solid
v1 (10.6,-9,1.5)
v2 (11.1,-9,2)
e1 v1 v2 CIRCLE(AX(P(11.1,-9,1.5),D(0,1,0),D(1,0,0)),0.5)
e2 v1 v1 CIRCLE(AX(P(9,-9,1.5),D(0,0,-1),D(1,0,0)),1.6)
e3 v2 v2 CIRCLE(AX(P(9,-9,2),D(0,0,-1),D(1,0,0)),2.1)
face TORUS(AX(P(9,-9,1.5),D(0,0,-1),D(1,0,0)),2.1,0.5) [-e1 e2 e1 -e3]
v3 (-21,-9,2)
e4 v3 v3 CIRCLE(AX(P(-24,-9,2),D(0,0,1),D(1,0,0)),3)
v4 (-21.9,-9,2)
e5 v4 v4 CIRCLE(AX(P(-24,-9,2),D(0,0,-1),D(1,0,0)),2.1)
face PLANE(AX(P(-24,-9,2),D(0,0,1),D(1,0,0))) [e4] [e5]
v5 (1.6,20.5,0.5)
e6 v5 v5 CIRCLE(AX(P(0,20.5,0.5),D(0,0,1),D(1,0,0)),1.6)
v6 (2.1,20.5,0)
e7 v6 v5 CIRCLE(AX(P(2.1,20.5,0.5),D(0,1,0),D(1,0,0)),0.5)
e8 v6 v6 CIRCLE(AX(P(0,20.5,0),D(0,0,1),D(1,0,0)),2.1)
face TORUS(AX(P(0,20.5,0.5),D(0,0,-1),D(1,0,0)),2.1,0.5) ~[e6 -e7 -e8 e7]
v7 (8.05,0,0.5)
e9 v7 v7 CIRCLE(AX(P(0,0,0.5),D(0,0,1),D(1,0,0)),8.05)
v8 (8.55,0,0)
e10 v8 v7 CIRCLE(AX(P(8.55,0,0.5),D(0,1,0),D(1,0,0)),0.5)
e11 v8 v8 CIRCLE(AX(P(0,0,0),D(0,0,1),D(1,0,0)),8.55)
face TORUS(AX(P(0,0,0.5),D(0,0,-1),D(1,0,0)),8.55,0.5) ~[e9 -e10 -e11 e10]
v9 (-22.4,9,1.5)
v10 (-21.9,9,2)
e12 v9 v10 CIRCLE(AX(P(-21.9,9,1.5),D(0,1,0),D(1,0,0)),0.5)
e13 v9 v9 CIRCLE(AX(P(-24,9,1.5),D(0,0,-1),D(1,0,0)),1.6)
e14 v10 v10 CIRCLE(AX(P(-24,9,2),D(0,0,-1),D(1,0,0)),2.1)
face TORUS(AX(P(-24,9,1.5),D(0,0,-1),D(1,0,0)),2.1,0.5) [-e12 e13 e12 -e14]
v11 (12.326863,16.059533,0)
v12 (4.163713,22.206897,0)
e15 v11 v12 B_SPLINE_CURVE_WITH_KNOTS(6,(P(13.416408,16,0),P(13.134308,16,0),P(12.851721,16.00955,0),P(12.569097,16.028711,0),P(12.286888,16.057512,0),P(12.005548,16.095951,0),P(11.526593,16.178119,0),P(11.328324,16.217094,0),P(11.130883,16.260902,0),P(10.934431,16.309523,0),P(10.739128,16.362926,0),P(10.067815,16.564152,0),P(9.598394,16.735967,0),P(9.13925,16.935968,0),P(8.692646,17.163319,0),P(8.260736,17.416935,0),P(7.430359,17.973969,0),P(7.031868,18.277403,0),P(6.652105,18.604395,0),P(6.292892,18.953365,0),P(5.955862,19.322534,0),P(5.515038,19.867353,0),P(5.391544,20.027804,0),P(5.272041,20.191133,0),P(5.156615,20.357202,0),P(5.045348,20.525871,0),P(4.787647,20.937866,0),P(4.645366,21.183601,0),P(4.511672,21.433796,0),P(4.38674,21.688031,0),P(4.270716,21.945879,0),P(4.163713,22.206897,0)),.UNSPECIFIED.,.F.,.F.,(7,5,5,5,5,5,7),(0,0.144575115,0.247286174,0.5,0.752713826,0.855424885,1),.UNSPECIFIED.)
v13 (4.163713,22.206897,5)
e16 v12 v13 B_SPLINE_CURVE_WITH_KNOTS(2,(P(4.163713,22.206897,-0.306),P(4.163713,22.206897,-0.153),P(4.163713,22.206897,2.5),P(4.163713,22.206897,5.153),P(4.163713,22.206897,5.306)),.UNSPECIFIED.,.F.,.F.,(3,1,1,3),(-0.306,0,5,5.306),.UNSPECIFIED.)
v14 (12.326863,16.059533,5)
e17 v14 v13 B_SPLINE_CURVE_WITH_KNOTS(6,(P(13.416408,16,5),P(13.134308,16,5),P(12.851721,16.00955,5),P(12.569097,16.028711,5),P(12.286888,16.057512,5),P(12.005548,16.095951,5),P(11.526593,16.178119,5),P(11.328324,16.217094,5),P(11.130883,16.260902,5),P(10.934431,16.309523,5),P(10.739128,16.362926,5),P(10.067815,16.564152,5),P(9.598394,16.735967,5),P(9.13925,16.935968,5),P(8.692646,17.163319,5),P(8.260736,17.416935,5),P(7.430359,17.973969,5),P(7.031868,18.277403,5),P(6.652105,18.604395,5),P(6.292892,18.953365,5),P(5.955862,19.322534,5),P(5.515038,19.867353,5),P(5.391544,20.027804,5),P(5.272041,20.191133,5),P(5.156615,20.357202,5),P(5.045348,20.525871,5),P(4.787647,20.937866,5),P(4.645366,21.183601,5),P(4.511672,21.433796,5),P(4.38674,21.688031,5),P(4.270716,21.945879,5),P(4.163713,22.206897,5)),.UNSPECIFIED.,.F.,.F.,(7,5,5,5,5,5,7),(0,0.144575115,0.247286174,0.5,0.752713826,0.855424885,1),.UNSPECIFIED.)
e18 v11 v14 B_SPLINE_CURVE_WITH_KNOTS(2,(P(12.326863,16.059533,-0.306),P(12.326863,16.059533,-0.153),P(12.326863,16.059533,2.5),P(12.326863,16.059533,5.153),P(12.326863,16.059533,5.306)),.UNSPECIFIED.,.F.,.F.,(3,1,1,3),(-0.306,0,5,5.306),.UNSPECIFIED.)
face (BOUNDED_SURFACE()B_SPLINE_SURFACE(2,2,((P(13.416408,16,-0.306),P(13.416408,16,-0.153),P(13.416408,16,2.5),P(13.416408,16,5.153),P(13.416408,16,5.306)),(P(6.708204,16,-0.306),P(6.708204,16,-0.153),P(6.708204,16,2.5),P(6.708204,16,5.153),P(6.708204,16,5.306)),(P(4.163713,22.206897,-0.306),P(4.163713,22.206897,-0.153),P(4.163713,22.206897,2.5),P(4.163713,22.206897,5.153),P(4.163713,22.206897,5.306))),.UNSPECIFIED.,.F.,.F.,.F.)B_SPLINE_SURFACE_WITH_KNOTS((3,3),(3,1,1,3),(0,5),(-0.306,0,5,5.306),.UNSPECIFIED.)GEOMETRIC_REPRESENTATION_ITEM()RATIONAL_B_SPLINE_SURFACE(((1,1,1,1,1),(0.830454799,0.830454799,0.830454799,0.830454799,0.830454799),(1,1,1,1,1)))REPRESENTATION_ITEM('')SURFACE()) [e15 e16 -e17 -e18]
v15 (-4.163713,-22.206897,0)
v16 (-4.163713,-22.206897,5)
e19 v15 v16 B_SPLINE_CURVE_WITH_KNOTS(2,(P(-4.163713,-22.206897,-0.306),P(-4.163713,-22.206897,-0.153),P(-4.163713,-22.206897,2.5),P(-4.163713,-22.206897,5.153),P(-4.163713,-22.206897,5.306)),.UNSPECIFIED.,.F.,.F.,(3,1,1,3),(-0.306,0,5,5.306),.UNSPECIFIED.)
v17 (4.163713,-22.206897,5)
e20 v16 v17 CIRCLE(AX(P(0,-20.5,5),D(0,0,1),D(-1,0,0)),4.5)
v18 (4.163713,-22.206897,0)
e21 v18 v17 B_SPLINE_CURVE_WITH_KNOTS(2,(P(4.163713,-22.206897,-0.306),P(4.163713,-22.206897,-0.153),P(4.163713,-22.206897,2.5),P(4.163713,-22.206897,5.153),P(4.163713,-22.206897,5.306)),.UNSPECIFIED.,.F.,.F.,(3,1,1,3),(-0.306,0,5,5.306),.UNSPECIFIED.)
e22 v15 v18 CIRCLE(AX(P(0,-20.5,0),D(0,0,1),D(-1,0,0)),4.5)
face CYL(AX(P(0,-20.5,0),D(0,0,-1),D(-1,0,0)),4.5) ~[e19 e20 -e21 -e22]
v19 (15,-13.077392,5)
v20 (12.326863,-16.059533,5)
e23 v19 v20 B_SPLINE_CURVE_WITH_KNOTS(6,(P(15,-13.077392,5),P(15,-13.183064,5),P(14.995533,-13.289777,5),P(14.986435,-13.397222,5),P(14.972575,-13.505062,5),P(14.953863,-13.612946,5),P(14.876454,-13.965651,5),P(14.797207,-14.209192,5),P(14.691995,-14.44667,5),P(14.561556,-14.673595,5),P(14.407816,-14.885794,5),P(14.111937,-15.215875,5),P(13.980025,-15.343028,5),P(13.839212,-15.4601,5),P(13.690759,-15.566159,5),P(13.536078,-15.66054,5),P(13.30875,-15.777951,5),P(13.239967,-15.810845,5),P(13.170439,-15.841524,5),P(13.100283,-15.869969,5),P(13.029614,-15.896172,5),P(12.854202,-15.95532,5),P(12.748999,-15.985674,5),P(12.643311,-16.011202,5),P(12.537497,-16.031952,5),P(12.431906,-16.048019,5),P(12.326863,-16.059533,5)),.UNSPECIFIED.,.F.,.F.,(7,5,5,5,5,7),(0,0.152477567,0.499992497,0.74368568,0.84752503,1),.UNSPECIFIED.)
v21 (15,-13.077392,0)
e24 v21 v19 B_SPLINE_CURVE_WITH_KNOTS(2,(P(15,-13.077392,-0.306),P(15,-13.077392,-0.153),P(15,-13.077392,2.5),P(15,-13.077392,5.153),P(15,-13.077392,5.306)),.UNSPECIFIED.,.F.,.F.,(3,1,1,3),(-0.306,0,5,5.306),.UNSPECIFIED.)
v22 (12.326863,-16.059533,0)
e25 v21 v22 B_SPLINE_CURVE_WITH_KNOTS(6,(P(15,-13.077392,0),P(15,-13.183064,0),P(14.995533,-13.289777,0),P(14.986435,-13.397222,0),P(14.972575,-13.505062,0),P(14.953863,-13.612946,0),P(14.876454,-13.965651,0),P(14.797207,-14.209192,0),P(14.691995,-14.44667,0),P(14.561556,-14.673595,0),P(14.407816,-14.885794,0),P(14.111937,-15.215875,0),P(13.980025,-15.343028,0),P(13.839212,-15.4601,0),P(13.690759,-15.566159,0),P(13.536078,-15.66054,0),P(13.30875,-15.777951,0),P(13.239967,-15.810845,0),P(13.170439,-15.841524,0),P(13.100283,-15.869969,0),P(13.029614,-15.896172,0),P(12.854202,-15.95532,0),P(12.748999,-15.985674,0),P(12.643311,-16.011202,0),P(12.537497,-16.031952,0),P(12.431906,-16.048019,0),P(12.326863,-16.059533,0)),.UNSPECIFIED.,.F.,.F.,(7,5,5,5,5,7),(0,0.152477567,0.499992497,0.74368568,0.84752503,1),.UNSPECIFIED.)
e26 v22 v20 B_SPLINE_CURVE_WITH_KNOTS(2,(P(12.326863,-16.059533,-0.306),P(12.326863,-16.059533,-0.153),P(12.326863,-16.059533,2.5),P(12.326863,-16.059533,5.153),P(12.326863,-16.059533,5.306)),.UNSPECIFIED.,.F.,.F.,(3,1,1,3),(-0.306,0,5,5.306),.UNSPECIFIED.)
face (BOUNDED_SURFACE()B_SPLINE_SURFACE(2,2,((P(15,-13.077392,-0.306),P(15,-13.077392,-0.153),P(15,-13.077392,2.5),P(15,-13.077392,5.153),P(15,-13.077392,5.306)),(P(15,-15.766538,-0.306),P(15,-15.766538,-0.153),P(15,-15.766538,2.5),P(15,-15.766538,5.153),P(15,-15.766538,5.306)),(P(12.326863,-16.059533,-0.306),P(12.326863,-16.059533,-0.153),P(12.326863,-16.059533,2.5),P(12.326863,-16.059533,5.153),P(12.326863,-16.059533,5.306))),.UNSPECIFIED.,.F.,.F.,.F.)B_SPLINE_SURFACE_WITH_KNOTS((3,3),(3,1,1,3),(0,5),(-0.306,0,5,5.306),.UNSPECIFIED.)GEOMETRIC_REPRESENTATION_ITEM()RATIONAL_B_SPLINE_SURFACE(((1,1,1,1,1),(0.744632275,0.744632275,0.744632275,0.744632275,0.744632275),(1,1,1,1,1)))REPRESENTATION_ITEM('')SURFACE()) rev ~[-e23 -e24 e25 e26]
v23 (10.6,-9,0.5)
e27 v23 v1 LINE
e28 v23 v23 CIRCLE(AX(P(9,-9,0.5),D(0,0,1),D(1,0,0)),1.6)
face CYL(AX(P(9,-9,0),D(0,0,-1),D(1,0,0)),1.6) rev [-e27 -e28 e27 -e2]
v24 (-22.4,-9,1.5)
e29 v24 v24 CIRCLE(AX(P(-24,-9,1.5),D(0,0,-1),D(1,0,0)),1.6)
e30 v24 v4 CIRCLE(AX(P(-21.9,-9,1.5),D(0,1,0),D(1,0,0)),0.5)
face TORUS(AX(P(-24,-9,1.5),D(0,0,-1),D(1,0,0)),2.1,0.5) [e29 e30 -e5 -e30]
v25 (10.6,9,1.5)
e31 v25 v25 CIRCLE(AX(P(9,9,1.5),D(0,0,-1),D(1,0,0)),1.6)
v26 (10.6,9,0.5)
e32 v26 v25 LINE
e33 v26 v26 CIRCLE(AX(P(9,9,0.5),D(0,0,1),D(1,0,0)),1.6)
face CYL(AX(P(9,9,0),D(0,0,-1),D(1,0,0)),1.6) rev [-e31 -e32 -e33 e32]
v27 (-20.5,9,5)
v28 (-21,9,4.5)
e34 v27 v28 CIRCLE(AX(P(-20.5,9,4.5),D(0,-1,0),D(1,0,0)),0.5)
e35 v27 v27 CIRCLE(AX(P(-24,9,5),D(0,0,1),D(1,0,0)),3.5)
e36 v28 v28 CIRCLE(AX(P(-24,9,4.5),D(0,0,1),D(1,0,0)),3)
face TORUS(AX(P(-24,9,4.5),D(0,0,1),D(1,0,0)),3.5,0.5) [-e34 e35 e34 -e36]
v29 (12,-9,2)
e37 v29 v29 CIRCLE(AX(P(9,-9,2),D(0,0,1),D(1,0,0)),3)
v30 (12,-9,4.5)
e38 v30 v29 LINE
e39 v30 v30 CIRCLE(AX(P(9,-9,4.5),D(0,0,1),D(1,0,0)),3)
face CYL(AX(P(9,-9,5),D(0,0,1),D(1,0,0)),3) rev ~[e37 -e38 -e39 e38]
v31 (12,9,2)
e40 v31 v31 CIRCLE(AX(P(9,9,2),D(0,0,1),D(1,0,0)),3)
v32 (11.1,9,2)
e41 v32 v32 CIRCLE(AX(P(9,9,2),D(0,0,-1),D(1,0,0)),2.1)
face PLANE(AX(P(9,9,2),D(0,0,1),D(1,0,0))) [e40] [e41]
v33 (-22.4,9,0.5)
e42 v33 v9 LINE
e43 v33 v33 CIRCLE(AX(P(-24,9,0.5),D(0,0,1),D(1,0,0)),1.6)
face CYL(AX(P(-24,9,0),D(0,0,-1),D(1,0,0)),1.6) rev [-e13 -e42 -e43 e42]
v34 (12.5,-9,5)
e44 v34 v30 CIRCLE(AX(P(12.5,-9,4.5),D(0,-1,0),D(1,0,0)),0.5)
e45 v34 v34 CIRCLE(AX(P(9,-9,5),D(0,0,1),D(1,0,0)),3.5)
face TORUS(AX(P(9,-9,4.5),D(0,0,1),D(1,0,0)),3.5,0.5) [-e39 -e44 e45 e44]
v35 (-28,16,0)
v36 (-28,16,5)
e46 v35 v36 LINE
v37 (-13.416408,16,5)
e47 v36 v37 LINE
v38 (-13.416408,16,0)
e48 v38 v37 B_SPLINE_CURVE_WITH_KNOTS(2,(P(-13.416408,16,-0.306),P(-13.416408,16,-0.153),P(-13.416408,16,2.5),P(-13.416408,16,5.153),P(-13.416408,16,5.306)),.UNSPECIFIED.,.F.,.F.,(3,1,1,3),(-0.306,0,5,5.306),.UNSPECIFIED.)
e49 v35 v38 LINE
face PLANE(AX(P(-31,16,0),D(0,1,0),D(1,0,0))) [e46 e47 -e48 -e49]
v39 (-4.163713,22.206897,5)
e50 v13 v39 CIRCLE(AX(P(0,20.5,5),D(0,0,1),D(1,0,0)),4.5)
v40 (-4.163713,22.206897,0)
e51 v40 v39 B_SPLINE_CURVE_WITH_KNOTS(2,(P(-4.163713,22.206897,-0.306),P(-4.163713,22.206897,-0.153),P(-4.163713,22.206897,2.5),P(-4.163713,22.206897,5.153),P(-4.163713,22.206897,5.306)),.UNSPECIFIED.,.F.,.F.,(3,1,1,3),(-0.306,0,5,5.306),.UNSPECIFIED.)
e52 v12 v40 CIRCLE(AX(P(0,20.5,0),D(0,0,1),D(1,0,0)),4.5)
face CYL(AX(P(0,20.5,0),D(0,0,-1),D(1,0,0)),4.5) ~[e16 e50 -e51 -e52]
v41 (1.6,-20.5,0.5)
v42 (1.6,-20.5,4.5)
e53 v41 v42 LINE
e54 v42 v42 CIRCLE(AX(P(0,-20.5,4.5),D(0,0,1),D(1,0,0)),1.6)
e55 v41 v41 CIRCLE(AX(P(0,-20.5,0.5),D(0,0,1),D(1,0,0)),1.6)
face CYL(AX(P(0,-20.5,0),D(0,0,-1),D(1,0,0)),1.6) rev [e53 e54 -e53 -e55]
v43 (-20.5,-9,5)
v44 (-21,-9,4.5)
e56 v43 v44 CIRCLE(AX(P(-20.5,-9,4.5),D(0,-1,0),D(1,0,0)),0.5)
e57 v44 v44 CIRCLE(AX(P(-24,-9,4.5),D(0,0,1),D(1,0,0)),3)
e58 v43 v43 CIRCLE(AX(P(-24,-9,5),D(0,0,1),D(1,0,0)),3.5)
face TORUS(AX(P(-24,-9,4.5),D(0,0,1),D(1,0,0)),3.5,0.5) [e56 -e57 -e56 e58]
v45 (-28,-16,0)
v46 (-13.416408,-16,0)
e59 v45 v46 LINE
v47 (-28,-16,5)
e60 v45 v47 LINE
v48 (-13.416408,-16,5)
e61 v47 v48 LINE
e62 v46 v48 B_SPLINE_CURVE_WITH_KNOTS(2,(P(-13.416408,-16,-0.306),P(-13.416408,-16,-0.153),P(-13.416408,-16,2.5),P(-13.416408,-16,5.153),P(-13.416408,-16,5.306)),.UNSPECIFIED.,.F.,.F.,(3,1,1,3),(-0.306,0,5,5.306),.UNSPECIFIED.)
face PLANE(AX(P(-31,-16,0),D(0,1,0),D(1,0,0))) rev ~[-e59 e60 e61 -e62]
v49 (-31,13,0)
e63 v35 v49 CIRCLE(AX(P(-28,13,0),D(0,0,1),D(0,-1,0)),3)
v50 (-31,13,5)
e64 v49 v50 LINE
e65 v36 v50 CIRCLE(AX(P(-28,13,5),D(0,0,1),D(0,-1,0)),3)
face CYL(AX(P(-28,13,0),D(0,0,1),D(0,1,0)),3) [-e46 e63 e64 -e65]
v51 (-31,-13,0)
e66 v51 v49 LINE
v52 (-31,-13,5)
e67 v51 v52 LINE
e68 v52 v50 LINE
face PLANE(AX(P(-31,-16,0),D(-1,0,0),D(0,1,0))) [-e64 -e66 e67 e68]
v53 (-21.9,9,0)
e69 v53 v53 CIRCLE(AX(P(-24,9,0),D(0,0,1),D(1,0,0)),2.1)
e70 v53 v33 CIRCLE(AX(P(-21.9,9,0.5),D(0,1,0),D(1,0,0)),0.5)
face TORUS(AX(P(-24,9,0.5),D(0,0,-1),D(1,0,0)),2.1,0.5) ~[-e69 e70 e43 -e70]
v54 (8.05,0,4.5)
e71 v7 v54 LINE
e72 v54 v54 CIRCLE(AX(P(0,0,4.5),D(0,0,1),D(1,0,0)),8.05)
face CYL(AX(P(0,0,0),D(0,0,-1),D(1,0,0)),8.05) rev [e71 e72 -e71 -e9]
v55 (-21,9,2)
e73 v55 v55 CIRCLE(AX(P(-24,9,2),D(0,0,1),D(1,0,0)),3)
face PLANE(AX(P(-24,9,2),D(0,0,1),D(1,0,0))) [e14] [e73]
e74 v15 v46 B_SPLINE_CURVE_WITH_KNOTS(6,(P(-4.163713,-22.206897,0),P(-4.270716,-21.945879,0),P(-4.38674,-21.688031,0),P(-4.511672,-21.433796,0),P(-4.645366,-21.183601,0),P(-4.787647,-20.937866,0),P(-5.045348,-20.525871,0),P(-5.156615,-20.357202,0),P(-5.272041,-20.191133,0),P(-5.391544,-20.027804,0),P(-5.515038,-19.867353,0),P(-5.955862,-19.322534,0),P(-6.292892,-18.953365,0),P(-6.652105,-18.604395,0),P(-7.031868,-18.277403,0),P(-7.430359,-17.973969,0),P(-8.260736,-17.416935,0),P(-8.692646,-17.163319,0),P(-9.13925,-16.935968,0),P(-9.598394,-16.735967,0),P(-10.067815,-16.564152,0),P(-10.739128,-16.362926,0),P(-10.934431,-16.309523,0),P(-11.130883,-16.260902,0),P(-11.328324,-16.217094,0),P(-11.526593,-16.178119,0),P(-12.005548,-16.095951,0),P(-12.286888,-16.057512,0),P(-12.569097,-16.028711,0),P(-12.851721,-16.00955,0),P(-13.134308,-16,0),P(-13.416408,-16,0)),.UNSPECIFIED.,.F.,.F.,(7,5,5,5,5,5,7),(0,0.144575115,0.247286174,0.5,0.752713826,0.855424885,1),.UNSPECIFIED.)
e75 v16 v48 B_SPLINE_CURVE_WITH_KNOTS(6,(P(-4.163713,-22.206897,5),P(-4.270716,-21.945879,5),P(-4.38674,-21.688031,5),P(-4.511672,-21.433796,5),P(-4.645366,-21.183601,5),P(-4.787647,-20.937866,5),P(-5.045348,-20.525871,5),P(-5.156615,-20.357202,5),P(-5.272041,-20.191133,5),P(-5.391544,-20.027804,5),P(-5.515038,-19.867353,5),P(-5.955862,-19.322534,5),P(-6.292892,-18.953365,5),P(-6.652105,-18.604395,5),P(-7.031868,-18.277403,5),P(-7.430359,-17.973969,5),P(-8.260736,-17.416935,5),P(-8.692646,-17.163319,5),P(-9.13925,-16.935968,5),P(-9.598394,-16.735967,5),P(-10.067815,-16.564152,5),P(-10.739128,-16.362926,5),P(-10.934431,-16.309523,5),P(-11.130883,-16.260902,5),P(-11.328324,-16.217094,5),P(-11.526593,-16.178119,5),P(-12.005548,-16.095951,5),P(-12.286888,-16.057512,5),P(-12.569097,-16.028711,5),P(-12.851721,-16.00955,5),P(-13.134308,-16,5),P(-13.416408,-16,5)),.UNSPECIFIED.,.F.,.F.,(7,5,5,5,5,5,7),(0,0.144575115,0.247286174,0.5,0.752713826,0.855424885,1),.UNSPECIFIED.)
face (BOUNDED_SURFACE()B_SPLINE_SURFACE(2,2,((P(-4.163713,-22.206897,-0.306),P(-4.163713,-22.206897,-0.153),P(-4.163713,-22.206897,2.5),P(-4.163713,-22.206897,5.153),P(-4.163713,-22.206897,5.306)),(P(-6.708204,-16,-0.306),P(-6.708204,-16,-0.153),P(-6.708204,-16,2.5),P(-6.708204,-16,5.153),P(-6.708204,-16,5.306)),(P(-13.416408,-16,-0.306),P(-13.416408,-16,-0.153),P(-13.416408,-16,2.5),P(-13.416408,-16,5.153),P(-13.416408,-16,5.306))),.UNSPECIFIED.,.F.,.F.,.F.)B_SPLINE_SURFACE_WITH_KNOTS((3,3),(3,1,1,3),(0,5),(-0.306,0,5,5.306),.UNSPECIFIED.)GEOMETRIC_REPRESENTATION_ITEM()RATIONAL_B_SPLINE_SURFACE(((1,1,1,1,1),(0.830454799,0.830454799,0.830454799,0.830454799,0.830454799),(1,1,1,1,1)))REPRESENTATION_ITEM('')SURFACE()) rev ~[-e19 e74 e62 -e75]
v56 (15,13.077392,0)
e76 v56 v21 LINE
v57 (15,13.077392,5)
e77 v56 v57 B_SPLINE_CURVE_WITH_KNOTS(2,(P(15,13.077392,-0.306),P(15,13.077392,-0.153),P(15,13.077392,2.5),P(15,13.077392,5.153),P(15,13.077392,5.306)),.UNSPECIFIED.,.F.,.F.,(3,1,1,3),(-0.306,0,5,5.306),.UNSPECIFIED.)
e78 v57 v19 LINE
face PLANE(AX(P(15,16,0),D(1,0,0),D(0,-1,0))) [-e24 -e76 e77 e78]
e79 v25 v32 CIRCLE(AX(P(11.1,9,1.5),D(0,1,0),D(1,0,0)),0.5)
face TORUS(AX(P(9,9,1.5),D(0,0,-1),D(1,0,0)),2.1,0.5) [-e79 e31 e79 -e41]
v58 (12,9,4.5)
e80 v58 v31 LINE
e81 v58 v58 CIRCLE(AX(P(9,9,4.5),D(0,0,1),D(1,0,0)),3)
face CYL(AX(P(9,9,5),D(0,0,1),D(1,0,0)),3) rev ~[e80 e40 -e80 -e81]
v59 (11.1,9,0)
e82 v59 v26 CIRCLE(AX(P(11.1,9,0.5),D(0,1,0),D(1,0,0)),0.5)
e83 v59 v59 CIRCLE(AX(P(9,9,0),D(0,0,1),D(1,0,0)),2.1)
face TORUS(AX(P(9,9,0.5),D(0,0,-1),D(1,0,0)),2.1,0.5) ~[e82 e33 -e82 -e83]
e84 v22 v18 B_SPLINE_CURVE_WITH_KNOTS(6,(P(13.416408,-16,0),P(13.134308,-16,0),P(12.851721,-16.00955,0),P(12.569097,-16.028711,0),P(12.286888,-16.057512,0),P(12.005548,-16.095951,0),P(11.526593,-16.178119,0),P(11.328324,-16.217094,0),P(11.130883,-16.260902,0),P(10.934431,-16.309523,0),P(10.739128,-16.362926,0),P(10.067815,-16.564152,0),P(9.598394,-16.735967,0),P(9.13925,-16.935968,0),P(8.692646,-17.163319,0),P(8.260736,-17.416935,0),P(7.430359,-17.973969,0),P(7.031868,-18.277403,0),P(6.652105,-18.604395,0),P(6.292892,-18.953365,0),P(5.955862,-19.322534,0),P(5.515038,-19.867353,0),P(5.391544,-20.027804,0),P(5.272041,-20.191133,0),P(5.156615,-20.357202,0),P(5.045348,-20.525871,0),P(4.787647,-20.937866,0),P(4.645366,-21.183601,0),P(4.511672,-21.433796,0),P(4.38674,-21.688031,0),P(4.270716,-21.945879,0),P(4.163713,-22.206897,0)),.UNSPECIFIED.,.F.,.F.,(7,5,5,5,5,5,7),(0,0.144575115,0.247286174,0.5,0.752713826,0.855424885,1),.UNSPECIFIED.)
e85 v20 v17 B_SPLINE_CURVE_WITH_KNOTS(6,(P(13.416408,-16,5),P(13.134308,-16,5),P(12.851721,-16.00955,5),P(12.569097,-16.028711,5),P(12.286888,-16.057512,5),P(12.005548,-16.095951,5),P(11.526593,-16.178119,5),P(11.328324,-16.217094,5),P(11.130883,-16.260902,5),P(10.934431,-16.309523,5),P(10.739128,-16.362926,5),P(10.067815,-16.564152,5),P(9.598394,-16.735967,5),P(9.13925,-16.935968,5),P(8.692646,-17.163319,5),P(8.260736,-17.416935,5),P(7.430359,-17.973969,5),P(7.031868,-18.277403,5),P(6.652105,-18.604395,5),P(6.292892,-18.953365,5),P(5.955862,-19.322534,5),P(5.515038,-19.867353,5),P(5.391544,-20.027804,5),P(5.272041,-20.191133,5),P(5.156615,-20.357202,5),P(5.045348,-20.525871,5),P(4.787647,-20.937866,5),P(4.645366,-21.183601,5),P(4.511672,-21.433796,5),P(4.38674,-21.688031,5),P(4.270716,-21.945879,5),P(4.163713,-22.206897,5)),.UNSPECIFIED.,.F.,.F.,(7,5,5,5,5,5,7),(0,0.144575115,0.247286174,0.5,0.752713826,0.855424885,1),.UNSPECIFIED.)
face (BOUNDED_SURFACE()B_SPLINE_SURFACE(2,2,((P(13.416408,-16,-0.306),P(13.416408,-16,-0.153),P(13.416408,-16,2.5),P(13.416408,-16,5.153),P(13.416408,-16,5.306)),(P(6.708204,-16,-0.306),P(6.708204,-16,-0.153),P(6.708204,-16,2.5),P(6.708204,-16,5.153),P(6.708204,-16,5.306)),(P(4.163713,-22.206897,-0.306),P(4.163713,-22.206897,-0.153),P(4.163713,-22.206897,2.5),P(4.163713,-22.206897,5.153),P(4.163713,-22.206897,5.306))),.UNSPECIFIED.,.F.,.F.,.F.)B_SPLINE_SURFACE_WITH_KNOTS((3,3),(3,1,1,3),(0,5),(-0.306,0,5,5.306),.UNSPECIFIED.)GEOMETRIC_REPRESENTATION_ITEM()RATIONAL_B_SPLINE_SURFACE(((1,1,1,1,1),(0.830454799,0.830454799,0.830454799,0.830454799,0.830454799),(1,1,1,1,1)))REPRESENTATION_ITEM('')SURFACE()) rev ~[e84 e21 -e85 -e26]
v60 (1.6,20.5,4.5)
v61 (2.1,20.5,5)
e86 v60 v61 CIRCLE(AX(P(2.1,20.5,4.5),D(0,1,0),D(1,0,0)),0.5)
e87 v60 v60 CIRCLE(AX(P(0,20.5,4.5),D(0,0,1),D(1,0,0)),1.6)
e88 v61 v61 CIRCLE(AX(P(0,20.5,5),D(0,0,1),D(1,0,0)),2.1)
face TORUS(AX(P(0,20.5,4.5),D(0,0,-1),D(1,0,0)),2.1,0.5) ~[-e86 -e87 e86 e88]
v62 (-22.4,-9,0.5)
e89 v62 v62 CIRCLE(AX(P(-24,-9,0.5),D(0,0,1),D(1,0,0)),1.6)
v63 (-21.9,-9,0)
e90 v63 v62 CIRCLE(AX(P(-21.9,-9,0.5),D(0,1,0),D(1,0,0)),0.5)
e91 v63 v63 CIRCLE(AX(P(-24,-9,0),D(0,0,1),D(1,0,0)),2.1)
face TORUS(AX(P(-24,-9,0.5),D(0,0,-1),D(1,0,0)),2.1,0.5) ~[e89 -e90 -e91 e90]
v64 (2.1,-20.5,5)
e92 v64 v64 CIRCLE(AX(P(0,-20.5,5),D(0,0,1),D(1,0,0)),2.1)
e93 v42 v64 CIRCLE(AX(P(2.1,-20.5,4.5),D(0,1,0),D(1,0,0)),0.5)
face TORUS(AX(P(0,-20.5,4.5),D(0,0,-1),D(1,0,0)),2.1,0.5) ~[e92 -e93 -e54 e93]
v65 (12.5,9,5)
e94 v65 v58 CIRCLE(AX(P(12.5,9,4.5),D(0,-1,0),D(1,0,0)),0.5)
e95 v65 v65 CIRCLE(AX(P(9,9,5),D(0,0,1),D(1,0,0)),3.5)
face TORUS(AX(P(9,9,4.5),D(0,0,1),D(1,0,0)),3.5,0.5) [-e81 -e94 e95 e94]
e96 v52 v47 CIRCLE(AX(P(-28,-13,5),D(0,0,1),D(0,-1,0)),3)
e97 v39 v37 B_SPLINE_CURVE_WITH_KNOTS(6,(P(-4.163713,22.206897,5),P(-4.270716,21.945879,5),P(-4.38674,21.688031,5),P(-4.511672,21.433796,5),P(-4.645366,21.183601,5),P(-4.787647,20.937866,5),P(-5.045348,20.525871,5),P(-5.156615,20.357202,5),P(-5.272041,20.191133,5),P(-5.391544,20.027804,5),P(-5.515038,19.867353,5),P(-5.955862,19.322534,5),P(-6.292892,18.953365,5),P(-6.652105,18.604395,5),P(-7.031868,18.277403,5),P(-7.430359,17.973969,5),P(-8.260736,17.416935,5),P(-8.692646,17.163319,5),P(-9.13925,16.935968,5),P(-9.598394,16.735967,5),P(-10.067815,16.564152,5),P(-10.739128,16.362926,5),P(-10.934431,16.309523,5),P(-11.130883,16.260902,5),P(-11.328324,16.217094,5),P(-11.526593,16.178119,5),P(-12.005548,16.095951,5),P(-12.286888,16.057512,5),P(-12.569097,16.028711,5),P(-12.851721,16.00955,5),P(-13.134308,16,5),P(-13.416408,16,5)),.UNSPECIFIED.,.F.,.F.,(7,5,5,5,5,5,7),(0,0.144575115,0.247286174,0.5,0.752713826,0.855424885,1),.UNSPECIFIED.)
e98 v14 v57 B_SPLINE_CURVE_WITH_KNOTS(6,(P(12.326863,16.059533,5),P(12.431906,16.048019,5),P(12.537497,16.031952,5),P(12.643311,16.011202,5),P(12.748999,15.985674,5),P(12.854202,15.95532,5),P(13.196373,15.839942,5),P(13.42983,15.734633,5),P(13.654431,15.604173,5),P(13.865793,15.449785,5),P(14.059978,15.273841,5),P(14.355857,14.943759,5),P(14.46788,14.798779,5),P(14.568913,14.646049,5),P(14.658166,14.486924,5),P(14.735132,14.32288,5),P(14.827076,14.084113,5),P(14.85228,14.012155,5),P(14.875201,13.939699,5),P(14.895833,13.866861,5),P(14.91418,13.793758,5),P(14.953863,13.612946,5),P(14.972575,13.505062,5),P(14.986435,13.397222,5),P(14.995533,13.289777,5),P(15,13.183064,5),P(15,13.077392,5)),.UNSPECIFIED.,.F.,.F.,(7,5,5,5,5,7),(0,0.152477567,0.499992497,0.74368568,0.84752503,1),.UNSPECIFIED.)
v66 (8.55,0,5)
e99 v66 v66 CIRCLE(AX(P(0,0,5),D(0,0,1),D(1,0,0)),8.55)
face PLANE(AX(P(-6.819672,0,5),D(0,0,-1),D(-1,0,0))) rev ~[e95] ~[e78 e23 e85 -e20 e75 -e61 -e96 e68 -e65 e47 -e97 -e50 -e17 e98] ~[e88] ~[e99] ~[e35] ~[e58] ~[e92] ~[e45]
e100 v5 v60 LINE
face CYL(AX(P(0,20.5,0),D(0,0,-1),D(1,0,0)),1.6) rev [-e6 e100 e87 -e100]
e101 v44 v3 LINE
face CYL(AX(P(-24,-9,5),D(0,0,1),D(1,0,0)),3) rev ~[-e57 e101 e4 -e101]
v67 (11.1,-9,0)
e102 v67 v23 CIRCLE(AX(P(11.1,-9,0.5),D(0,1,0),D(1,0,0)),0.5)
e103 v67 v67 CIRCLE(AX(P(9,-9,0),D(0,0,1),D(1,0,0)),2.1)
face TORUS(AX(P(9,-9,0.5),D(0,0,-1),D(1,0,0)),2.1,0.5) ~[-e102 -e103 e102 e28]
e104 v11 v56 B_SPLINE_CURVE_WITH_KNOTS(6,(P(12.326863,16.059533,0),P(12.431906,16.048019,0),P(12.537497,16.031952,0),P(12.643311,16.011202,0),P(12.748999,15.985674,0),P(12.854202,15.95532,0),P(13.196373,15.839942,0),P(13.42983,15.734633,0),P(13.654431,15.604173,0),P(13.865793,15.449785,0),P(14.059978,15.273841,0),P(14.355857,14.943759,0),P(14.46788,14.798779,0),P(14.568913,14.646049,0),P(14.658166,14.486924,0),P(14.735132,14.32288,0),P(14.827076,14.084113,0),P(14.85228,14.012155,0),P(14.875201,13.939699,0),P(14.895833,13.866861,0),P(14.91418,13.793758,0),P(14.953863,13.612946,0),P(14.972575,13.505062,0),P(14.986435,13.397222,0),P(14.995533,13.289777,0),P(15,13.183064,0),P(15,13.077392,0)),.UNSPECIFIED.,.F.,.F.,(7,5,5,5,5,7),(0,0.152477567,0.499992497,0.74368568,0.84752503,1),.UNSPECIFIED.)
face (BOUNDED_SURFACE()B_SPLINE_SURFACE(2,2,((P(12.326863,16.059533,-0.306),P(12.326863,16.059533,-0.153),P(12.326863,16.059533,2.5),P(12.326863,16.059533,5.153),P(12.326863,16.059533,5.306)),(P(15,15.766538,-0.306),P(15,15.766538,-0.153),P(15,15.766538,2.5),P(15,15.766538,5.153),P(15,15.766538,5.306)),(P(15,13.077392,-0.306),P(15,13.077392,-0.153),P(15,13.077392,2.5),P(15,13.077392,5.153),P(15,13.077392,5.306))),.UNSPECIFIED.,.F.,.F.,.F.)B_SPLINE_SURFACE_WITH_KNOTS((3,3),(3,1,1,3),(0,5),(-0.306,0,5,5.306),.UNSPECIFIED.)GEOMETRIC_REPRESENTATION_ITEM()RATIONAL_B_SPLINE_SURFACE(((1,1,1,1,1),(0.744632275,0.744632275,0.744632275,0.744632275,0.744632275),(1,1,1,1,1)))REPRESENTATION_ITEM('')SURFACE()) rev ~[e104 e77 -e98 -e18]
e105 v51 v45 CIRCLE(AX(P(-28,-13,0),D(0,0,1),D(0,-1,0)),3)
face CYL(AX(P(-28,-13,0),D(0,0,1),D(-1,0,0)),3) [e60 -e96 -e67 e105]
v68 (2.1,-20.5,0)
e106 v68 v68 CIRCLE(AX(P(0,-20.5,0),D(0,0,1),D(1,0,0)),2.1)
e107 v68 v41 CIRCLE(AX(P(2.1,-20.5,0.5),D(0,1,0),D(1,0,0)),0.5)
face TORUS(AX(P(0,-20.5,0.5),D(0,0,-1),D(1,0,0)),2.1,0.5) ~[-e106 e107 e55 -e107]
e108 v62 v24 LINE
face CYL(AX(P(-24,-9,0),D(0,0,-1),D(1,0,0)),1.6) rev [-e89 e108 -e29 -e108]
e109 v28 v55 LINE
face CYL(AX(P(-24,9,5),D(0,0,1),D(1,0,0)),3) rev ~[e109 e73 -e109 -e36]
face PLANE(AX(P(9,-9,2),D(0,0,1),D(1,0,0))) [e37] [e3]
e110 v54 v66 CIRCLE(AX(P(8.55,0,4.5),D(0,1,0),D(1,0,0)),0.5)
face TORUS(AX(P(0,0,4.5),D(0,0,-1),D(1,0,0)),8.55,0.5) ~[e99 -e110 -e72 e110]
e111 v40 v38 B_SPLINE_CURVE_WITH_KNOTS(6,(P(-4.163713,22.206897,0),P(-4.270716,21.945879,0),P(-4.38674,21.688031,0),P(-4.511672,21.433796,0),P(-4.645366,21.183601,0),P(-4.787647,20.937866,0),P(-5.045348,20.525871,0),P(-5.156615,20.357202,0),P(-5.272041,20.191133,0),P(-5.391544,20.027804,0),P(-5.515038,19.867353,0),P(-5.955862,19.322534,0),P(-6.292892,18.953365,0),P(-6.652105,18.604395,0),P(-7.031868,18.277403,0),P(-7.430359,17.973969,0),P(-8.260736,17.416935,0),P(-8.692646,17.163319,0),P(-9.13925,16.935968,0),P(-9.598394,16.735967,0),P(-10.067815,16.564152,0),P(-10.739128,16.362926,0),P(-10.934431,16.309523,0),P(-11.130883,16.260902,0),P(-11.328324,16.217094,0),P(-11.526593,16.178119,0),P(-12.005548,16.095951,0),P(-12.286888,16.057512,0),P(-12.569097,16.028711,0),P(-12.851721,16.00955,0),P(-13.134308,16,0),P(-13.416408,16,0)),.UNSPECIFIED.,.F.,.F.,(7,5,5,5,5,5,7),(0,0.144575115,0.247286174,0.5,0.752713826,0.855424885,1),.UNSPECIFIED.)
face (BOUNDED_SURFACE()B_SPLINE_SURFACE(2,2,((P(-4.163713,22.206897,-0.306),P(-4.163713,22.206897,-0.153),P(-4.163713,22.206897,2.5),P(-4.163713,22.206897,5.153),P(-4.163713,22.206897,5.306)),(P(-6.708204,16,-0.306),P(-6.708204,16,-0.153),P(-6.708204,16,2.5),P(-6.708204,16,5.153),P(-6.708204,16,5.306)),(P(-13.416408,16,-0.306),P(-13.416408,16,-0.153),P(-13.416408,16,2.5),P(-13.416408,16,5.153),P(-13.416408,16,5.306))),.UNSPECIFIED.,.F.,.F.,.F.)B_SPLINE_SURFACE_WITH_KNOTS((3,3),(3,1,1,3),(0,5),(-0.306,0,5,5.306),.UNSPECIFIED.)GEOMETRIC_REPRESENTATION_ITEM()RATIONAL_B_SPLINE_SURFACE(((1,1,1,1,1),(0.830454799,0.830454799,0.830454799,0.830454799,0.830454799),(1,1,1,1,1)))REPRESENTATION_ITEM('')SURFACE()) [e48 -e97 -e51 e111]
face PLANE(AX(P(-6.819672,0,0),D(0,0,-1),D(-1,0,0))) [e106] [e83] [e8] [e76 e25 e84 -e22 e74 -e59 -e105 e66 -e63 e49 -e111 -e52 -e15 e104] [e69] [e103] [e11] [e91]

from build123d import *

# Parameters (mm, degrees)
SKETCH_R     = 8.05
SKETCH_R_2   = 1.6
PAD_DEPTH    = 5
FILLET_R     = 10
FILLET001_R  = 3
SKETCH001_R  = 3
POCKET_DEPTH = 3
FILLET002_R  = 0.5


with BuildPart() as part:
    # Sketch → Pad (new body)
    with BuildSketch(Plane.XY):
        with BuildLine():
            Line((15, 16), (15, -16))
            Line((15, -16), (4.5, -16))
            Line((4.5, -16), (4.5, -20.5))
            ThreePointArc((-4.5, -20.5), (0, -25), (4.5, -20.5))
            Line((-4.5, -16), (-4.5, -20.5))
            Line((-31, -16), (-4.5, -16))
            Line((-31, -16), (-31, 16))
            Line((-31, 16), (-4.5, 16))
            Line((-4.5, 16), (-4.5, 20.5))
            ThreePointArc((4.5, 20.5), (0, 25), (-4.5, 20.5))
            Line((4.5, 16), (4.5, 20.5))
            Line((15, 16), (4.5, 16))
        make_face()
        Circle(SKETCH_R, mode=Mode.SUBTRACT)
        with Locations((-24, 9)):
            Circle(SKETCH_R_2, mode=Mode.SUBTRACT)
        with Locations((-24, -9)):
            Circle(SKETCH_R_2, mode=Mode.SUBTRACT)
        with Locations((9, -9)):
            Circle(SKETCH_R_2, mode=Mode.SUBTRACT)
        with Locations((9, 9)):
            Circle(SKETCH_R_2, mode=Mode.SUBTRACT)
        with Locations((0, 20.5)):
            Circle(SKETCH_R_2, mode=Mode.SUBTRACT)
        with Locations((0, -20.5)):
            Circle(SKETCH_R_2, mode=Mode.SUBTRACT)
    extrude(amount=PAD_DEPTH)

    # Fillet
    fillet_edges = [part.edges().sort_by_distance(p)[0] for p in [
        (4.5, 16, 2.5),
        (-4.5, 16, 2.5),
        (-4.5, -16, 2.5),
        (4.5, -16, 2.5),
    ]]
    fillet(fillet_edges, radius=FILLET_R)

    # Fillet001
    fillet001_edges = [part.edges().sort_by_distance(p)[0] for p in [
        (15, 16, 2.5),
        (15, -16, 2.5),
        (-31, 16, 2.5),
        (-31, -16, 2.5),
    ]]
    fillet(fillet001_edges, radius=FILLET001_R)

    # Sketch001 (on Face23 of Fillet001) → Pocket (cut)
    with BuildSketch(Plane.XY.offset(5)):
        with Locations((-24, 9)):
            Circle(SKETCH001_R)
        with Locations((-24, -9)):
            Circle(SKETCH001_R)
        with Locations((9, 9)):
            Circle(SKETCH001_R)
        with Locations((9, -9)):
            Circle(SKETCH001_R)
    extrude(amount=-POCKET_DEPTH, mode=Mode.SUBTRACT)

    # Fillet002
    fillet002_edges = [part.edges().sort_by_distance(p)[0] for p in [
        (-27, 9, 5),
        (-25.6, 9, 2),
        (-27, -9, 5),
        (-25.6, -9, 2),
        (-8.05, 0, 5),
        (6, 9, 5),
        (7.4, 9, 2),
        (6, -9, 5),
        (7.4, -9, 2),
        (-1.6, -20.5, 5),
        (-1.6, 20.5, 5),
        (-1.6, -20.5, 0),
        (7.4, -9, 0),
        (7.4, 9, 0),
        (-1.6, 20.5, 0),
        (-8.05, 0, 0),
        (-25.6, -9, 0),
        (-25.6, 9, 0),
    ]]
    fillet(fillet002_edges, radius=FILLET002_R)


solid = part.part
